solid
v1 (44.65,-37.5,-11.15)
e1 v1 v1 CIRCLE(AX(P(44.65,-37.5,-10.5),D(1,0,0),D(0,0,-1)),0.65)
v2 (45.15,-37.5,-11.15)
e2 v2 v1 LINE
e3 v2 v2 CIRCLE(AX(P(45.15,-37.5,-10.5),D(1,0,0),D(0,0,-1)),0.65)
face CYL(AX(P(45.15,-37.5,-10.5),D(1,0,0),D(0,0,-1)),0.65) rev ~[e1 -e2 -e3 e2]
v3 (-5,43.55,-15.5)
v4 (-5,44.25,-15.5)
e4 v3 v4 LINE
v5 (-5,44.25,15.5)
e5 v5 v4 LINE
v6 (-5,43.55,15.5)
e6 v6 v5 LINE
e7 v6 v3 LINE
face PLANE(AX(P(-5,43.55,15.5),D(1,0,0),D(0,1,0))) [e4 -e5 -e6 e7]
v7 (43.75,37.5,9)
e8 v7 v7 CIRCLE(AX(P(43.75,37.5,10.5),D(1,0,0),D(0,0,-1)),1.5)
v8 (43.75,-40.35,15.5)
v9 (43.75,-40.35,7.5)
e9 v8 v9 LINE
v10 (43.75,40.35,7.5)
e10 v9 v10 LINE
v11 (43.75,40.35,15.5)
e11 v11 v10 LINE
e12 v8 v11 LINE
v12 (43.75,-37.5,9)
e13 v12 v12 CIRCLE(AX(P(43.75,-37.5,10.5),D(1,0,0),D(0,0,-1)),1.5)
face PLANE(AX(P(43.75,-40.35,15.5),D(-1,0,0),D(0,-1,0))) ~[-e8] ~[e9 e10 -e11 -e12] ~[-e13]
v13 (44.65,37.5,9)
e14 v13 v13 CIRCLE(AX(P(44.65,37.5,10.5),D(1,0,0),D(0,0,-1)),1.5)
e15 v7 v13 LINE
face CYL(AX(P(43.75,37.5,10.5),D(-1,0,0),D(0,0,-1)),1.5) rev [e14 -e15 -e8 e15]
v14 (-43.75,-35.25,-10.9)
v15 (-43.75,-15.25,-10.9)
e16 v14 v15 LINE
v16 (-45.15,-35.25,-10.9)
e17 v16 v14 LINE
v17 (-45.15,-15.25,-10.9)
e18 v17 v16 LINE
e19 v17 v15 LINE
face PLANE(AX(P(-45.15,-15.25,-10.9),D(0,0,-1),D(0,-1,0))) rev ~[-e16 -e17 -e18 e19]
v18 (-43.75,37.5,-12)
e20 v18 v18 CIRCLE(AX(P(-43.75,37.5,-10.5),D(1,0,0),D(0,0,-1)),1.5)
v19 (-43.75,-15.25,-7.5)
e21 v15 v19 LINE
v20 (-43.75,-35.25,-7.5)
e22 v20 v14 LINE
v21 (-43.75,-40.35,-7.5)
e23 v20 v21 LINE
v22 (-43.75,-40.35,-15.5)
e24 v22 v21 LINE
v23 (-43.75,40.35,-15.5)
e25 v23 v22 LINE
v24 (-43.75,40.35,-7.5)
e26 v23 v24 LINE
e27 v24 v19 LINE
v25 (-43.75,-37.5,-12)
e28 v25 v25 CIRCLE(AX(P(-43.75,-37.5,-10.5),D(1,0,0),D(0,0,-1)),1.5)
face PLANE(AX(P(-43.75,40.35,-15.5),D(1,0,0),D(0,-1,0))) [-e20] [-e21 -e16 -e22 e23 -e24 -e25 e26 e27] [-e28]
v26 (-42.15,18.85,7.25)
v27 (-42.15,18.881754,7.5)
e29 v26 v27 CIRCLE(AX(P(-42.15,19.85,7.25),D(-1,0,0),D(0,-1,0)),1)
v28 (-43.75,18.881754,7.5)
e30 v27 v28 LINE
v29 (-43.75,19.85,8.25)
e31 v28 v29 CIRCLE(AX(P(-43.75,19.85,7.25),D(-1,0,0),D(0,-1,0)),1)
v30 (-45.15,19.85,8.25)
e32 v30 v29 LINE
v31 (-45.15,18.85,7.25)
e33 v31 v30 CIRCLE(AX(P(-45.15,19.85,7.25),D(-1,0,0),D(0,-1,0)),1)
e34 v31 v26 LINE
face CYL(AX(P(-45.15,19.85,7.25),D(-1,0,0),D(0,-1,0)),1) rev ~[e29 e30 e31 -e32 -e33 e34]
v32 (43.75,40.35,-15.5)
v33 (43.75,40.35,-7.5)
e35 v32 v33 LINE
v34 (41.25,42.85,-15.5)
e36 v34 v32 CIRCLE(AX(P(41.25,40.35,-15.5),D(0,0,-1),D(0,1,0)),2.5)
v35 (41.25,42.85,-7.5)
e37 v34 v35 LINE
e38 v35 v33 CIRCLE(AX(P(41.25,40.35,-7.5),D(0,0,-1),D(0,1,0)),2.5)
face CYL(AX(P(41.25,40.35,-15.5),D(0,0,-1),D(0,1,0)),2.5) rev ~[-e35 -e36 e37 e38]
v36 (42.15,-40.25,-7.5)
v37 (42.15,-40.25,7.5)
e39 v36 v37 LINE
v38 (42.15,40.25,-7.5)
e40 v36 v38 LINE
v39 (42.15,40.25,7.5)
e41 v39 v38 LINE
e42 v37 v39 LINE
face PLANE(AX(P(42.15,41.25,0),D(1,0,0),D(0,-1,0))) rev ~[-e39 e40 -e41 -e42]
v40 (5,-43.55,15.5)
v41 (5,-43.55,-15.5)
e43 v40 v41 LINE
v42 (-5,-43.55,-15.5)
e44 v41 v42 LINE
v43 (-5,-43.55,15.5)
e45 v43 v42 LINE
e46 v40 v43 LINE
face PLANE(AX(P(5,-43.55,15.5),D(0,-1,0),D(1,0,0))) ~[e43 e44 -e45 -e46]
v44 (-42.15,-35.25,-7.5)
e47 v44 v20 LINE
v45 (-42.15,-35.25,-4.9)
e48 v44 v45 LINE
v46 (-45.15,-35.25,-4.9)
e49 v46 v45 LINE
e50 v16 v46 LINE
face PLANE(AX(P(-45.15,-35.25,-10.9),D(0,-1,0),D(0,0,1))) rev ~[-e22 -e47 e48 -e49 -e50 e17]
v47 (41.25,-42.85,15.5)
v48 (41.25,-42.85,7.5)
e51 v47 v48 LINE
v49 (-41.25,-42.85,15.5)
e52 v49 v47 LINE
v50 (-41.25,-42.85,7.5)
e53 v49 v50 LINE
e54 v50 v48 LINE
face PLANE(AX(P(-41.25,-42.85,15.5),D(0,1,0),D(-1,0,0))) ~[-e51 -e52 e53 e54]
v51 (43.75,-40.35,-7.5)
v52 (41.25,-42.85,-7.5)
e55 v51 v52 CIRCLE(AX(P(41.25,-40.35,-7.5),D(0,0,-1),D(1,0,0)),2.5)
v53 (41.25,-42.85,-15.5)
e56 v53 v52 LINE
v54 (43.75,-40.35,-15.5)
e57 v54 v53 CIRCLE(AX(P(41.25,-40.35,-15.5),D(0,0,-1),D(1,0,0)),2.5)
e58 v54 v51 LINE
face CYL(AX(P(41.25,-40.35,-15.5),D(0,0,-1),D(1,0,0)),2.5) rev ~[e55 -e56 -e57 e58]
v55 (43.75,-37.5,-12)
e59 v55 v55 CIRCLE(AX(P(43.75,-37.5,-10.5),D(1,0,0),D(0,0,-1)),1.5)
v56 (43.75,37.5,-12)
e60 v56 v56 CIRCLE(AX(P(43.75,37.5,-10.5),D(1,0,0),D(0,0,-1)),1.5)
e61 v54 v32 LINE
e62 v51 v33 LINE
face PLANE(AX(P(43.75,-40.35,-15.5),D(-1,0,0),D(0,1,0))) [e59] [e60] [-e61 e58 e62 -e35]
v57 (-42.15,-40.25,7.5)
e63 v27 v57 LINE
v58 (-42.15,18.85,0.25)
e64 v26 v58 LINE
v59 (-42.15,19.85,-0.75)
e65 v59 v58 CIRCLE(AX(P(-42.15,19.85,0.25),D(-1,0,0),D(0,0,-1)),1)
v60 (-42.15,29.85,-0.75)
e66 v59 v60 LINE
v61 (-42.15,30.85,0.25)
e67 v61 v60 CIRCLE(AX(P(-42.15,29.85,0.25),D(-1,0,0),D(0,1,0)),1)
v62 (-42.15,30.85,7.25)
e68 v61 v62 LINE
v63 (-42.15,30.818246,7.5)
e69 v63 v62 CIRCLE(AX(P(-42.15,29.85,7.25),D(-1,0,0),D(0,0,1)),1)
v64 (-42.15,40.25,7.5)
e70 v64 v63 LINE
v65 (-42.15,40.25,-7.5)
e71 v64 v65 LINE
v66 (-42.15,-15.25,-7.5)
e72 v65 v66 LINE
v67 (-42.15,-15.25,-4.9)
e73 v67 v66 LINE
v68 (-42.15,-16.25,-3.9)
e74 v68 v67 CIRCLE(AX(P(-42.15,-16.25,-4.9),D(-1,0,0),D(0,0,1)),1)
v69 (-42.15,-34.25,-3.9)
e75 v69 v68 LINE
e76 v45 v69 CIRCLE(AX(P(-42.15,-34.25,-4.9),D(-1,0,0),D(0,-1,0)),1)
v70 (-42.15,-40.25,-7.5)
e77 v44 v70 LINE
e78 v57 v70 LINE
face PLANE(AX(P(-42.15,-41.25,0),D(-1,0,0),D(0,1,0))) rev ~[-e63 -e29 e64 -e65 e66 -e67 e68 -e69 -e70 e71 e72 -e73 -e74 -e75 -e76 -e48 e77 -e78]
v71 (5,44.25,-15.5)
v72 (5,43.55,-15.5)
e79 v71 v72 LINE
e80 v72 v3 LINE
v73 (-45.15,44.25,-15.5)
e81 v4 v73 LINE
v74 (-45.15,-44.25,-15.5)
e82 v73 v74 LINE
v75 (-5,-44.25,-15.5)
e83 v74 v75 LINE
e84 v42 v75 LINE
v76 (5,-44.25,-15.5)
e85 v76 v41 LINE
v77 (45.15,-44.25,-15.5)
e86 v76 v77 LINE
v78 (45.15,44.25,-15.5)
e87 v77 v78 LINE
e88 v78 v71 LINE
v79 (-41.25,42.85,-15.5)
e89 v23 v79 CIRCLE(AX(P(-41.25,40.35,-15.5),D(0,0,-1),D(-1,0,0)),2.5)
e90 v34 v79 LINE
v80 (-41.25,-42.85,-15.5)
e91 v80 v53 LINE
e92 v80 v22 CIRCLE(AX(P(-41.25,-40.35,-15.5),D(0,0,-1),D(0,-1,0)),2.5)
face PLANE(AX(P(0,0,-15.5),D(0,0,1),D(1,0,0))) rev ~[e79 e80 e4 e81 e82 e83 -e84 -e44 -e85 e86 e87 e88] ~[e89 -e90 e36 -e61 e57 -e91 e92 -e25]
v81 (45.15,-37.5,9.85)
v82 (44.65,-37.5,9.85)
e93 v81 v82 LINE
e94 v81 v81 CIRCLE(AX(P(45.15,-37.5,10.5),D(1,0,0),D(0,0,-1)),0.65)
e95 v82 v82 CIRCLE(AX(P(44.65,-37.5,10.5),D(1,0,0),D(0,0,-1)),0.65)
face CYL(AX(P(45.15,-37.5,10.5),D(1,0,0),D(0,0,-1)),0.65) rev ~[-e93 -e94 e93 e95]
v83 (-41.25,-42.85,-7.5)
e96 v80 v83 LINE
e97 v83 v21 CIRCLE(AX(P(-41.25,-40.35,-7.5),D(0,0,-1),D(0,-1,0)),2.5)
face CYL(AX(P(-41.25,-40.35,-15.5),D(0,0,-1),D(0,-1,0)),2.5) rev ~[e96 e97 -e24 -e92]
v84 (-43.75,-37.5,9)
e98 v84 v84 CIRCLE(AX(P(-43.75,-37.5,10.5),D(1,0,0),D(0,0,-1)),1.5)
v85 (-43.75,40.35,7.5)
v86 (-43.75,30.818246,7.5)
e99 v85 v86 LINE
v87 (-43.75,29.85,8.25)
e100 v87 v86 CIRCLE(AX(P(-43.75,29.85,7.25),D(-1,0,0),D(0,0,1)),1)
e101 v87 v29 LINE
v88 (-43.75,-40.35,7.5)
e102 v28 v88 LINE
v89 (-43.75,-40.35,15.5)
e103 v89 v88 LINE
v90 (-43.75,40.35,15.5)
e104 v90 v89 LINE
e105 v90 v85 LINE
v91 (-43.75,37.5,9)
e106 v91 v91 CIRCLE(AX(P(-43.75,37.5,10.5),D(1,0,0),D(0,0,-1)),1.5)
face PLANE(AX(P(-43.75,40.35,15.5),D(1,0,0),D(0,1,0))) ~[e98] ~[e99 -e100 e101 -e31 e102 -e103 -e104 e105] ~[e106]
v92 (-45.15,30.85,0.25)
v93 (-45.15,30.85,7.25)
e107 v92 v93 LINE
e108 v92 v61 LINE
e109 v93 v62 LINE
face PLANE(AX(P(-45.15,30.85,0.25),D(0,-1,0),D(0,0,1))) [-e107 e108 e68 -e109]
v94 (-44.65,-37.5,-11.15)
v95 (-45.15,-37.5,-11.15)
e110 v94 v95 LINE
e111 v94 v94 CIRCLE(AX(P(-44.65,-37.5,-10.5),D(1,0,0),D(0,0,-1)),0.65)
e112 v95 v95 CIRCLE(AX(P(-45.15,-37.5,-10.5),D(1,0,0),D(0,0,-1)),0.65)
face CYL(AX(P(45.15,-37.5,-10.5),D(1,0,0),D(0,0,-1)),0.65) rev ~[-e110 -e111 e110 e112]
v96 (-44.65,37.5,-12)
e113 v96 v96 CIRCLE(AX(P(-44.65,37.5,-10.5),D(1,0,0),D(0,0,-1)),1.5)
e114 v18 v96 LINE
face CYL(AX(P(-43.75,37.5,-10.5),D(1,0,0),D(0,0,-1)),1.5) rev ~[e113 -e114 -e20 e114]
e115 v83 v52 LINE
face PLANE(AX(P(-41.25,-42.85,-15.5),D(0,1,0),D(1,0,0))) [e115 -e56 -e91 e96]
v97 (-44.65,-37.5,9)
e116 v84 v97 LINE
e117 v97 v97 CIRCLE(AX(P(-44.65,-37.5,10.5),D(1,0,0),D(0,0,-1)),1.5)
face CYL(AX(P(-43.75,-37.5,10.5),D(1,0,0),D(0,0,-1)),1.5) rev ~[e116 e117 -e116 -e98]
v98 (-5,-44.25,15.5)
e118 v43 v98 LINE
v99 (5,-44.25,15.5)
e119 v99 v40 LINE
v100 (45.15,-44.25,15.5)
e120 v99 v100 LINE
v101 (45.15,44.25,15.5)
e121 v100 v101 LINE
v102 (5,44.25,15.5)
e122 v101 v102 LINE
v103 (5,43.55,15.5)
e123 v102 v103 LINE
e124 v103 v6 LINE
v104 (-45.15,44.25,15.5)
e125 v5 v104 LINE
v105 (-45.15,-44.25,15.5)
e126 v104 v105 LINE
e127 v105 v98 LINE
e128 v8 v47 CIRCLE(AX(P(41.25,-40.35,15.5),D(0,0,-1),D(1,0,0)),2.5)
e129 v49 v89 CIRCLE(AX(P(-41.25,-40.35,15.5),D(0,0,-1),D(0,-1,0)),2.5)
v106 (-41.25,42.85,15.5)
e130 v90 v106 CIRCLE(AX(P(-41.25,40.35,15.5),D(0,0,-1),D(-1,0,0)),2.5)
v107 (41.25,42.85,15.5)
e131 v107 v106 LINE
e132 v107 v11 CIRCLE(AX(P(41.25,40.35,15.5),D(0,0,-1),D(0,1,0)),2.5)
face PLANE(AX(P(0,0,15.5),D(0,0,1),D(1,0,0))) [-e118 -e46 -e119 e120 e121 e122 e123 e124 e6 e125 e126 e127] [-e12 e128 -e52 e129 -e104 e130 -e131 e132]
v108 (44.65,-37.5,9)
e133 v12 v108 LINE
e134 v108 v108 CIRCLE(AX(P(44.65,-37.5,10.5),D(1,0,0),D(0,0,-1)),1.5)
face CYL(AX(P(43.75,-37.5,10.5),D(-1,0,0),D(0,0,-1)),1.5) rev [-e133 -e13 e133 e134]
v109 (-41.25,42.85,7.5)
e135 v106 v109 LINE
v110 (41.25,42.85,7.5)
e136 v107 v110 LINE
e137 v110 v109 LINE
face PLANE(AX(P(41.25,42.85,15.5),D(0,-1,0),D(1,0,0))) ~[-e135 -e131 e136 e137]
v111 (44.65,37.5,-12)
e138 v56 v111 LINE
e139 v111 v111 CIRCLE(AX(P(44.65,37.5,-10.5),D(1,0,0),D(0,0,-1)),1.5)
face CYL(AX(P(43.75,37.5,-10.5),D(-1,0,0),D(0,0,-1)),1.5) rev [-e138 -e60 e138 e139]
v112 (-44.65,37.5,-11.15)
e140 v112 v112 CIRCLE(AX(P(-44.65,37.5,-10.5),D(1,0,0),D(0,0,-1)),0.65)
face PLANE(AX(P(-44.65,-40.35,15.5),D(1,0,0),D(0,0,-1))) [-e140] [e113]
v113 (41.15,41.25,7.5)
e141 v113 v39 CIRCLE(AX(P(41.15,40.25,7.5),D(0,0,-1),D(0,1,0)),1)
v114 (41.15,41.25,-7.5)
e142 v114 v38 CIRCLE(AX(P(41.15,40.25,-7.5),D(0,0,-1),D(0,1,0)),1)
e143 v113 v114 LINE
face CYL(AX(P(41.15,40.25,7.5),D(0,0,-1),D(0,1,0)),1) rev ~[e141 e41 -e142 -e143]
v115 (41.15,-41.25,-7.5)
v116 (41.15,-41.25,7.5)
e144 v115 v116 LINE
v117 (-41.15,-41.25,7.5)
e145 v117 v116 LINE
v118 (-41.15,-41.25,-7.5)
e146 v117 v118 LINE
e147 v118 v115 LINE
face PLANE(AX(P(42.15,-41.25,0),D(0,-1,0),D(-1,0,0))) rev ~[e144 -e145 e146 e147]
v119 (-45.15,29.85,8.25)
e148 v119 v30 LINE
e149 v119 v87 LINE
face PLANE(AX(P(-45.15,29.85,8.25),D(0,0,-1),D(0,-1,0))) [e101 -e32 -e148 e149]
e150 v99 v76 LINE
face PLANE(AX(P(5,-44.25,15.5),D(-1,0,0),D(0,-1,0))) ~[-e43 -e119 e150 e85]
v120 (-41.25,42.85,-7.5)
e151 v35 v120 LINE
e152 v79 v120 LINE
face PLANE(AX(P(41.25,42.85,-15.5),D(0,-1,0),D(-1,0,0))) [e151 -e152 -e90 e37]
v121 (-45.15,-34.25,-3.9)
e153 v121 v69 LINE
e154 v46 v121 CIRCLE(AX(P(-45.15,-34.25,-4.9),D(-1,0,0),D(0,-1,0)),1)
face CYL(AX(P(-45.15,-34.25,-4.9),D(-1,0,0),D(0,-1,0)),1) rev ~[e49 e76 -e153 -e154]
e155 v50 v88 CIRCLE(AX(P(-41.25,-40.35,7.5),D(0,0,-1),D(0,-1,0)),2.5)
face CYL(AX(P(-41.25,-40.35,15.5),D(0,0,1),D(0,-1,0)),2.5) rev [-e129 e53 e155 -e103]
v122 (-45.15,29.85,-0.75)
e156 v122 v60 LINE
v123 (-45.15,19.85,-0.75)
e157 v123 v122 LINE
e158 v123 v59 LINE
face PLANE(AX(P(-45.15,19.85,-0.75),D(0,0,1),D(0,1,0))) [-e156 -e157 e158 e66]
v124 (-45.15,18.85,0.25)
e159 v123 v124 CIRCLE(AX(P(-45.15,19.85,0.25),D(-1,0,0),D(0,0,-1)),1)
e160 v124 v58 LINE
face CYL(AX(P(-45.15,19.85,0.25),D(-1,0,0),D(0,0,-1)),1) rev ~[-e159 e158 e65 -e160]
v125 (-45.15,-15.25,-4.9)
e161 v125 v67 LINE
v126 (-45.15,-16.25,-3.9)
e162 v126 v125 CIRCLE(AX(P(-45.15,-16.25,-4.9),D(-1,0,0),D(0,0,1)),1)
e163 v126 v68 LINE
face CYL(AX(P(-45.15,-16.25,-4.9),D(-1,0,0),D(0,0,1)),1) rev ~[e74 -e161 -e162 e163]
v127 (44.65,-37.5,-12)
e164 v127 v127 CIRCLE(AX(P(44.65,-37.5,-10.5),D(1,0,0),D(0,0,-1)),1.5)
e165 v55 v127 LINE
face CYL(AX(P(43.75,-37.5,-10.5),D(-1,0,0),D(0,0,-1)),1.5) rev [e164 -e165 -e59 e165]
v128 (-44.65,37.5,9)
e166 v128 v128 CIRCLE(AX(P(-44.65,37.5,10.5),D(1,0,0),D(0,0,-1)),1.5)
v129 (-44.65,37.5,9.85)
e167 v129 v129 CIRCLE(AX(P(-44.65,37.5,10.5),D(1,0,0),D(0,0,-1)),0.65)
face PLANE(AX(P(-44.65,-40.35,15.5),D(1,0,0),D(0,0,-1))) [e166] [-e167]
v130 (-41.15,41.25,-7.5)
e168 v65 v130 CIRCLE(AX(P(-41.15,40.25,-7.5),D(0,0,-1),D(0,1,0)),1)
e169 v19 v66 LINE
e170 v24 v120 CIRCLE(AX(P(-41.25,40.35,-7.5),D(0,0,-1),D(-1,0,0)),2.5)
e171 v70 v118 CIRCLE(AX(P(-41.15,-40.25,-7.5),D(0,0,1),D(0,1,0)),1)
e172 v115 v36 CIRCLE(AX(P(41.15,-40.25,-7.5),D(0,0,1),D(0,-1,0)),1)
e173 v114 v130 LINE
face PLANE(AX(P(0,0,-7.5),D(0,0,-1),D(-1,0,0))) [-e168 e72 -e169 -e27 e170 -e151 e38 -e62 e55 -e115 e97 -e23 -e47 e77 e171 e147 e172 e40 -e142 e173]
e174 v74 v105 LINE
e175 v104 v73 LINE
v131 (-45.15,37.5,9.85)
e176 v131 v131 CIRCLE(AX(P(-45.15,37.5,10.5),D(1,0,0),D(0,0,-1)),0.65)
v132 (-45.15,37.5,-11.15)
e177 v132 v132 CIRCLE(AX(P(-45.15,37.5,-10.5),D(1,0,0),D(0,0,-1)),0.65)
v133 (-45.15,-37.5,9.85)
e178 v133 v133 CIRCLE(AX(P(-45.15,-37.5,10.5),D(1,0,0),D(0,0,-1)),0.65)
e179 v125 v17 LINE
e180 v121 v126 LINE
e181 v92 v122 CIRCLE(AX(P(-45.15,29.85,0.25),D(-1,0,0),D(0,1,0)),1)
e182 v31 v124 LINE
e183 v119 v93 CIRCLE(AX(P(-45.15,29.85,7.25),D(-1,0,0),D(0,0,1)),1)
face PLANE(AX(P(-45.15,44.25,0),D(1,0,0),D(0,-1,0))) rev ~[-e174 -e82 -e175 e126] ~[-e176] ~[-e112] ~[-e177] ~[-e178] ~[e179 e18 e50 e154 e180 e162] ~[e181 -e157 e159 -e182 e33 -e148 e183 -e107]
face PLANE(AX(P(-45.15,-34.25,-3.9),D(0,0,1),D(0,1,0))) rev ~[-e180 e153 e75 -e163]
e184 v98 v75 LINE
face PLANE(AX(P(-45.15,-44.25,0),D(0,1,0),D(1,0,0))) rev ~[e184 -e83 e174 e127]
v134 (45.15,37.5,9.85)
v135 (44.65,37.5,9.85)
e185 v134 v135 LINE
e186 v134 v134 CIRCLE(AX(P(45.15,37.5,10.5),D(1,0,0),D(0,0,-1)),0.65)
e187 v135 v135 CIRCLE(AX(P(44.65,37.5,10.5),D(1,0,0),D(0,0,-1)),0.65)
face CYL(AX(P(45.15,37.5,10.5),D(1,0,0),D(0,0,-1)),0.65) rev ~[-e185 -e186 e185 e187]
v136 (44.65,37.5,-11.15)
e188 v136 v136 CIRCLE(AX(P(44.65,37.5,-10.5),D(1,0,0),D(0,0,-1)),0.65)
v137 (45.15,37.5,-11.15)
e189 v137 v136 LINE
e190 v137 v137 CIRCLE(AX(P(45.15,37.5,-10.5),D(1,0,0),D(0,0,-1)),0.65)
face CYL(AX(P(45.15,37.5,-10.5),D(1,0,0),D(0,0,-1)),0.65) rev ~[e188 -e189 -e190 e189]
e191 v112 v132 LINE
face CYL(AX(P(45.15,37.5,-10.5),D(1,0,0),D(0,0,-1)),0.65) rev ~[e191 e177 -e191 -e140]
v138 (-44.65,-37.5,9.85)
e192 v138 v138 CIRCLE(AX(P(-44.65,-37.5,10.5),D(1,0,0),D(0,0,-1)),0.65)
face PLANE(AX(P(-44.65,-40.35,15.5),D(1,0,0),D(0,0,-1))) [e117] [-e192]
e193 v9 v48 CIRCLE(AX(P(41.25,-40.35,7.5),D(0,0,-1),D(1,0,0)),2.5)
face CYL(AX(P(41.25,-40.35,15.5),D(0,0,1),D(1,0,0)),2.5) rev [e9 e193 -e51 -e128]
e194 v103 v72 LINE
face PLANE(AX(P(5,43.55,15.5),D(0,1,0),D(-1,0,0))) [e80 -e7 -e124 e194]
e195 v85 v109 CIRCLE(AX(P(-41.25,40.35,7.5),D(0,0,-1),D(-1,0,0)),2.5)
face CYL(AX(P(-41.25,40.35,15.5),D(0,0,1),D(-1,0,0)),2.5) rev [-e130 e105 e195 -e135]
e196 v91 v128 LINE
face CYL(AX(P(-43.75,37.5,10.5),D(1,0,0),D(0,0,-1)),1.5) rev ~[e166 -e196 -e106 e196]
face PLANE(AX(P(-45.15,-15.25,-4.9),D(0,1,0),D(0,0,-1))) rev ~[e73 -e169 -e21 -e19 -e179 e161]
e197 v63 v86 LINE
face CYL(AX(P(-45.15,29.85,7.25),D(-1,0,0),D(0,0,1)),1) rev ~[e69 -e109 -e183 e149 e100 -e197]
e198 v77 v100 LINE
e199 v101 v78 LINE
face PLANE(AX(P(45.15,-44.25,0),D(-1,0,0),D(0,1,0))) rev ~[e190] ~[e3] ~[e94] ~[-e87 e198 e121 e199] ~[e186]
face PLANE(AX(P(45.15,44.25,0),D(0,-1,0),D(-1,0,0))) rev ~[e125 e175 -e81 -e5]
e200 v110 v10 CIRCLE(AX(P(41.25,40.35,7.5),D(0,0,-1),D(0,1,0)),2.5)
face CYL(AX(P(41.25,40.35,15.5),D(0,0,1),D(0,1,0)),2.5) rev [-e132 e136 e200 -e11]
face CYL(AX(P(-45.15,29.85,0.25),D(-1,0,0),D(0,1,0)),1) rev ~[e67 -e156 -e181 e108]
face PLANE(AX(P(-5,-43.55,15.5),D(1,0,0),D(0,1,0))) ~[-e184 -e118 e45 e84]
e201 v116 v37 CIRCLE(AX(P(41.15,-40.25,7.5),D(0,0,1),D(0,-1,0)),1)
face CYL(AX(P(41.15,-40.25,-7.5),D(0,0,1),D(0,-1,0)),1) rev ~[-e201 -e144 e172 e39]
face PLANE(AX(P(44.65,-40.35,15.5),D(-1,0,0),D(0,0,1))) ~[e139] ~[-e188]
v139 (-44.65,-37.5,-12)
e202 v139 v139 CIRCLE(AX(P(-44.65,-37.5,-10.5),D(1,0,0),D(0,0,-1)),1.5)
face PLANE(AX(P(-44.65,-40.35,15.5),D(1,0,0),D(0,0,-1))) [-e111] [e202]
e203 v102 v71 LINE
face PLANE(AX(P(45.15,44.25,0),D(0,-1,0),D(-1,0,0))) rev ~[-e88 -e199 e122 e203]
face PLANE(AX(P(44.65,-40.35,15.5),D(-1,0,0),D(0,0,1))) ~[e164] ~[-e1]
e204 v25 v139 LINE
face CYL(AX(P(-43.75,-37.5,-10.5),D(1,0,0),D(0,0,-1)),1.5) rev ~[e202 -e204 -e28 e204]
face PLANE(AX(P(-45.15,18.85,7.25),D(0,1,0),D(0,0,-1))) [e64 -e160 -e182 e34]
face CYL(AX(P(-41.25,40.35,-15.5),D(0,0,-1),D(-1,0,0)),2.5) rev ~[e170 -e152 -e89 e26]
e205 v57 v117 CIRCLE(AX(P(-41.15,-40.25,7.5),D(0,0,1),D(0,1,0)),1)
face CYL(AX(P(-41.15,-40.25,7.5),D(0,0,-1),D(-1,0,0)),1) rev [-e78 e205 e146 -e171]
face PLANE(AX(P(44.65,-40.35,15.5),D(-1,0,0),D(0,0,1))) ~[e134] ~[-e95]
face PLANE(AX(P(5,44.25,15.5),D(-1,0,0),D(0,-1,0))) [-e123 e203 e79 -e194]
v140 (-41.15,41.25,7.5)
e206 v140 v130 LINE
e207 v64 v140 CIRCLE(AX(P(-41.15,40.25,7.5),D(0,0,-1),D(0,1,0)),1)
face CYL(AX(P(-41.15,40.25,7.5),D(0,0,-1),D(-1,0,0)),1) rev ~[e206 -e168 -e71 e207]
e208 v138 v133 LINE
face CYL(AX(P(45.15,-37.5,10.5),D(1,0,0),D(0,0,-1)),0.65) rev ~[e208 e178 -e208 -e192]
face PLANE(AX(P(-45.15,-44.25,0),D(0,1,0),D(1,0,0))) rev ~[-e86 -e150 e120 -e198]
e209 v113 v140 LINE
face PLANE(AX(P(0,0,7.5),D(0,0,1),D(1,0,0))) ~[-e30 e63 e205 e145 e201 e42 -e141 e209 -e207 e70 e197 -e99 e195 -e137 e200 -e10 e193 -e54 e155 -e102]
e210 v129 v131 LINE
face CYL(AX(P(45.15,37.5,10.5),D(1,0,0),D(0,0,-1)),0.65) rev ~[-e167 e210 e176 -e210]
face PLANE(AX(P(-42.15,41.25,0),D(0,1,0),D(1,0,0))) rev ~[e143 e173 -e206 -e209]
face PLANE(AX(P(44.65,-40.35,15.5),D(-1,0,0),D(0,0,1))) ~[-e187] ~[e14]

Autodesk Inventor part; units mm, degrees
ref_plane "YZ Plane" through (0, 0, 0) normal (1, 0, 0) x (0, 1, 0)
ref_plane "XZ Plane" through (0, 0, 0) normal (0, 1, 0) x (-1, 0, 0)
ref_plane "XY Plane" through (0, 0, 0) normal (0, 0, 1) x (1, 0, 0)
sketch "Sketch1" plane through (0, 0, 0) normal (0, 0, 1) x (1, 0, 0)
  line L0 (-45.15, -44.25) -> (45.15, -44.25)
  line L1 (45.15, -44.25) -> (45.15, 44.25)
  line L2 (45.15, 44.25) -> (-45.15, 44.25)
  line L3 (-45.15, 44.25) -> (-45.15, -44.25)
  line L4 (-45.15, -44.25) -> (45.15, 44.25) construction
  line L5 (45.15, -44.25) -> (-45.15, 44.25) construction
  line L6 (42.15, -41.25) -> (-42.15, -41.25)
  line L7 (-42.15, -41.25) -> (-42.15, 41.25)
  line L8 (-42.15, 41.25) -> (42.15, 41.25)
  line L9 (42.15, 41.25) -> (42.15, -41.25)
  line L10 (42.15, -41.25) -> (-42.15, 41.25) construction
  line L11 (-42.15, -41.25) -> (42.15, 41.25) construction
  point P0 (0, 0)
  dimension "d0" = 90.3
  dimension "d1" = 88.5
  dimension "d2" = 84.3
  dimension "d3" = 82.5
extrude "Extrusion1" add sketch "Sketch1" along normal mid plane 31
sketch "Sketch2" plane through (0, 0, -15.5) normal (0, 0, -1) x (-1, 0, 0)
  line L0 (42.15, 41.25) -> (42.15, -41.25) projected
  line L1 (42.15, -41.25) -> (-42.15, -41.25) projected
  line L2 (-42.15, -41.25) -> (-42.15, 41.25) projected
  line L3 (-42.15, 41.25) -> (42.15, 41.25) projected
  line L4 (41.25, -42.85) -> (-41.25, -42.85)
  line L5 (-43.75, -40.35) -> (-43.75, 40.35)
  line L6 (-41.25, 42.85) -> (41.25, 42.85)
  line L7 (43.75, 40.35) -> (43.75, -40.35)
  line L8 (43.75, -42.85) -> (-43.75, 42.85) construction
  line L9 (-43.75, -42.85) -> (43.75, 42.85) construction
  arc A0 (-41.25, 42.85) -> (-43.75, 40.35) centre (-41.25, 40.35) ccw
  arc A1 (-43.75, -40.35) -> (-41.25, -42.85) centre (-41.25, -40.35) ccw
  arc A2 (41.25, -42.85) -> (43.75, -40.35) centre (41.25, -40.35) ccw
  arc A3 (43.75, 40.35) -> (41.25, 42.85) centre (41.25, 40.35) ccw
  point P0 (0, 0)
  dimension "d8" = 2.5
  dimension "d40" = 1.6
  dimension "d41" = 1.6
extrude "Extrusion2" cut sketch "Sketch2" against normal blind 8
mirror "Mirror1" about plane through (0, 0, 0) normal (0, 0, 1) of "Extrusion2"
sketch "Sketch3" plane through (-45.15, -44.25, 15.5) normal (-1, 0, 0) x (0, -1, 0)
  line L0 (0, 0) -> (0, -31) projected
  line L1 (-9, -26.4) -> (-9, -20.4)
  line L2 (-10, -19.4) -> (-28, -19.4)
  line L3 (-29, -20.4) -> (-29, -26.4)
  arc A0 (-28, -19.4) -> (-29, -20.4) centre (-28, -20.4) ccw
  arc A1 (-9, -20.4) -> (-10, -19.4) centre (-10, -20.4) ccw
  line L4 (-29, -26.4) -> (-9, -26.4)
  line L5 (0, -31) -> (-88.5, -31) projected
  point P0 (-44.25, -15.5)
  dimension "d11" = 1
  dimension "d12" = 20
  dimension "d44" = 7
  dimension "d45" = 4.6
  dimension "d47" = 29
extrude "Elect" cut sketch "Sketch3" against normal blind 5
sketch "Sketch5" plane through (-45.15, -44.25, 15.5) normal (-1, 0, 0) x (0, 0, 1)
  line L0 (-31, 88.5) -> (0, 88.5) projected
  line L1 (-31, 0) -> (-31, 88.5) projected
  line L2 (-13.5, 72.7) -> (-10, 72.7)
  line L3 (-10, 72.7) -> (-10, 65.5)
  line L4 (-10, 65.5) -> (-13.5, 65.5)
  line L5 (-13.5, 65.5) -> (-13.5, 72.7)
  point P0 (-15.5, 44.25)
  point P1 (-11.75, 72.7)
  point P2 (-13.5, 69.1)
  dimension "d23" = 3.5
  dimension "d24" = 7.2
  dimension "d42" = 21
  dimension "d43" = 23
extrude "Mini-usb" cut sketch "Sketch5" against normal blind 10
sketch "Sketch7" plane through (-45.15, -44.25, 15.5) normal (-1, 0, 0) x (0, 0, 1)
  line L0 (-13.5, 65.5) -> (-13.5, 72.7) projected
  line L1 (-10, 72.7) -> (-10, 65.5) projected
  line L2 (-10, 65.5) -> (-13.5, 65.5) projected
  line L3 (-10, 72.7) -> (-13.5, 72.7) projected
  line L4 (-10, 72.7) -> (-13.5, 65.5) construction
  line L5 (-13.5, 65.5) -> (-10, 65.5) projected
  line L6 (-10, 65.5) -> (-13.5, 72.7) construction
  line L7 (-15.25, 75.1) -> (-8.25, 75.1)
  line L8 (-7.25, 74.1) -> (-7.25, 64.1)
  line L9 (-8.25, 63.1) -> (-15.25, 63.1)
  line L10 (-16.25, 64.1) -> (-16.25, 74.1)
  line L11 (-16.25, 75.1) -> (-7.25, 63.1) construction
  line L12 (-7.25, 75.1) -> (-16.25, 63.1) construction
  arc A0 (-7.25, 74.1) -> (-8.25, 75.1) centre (-8.25, 74.1) ccw
  arc A1 (-15.25, 75.1) -> (-16.25, 74.1) centre (-15.25, 74.1) ccw
  arc A2 (-16.25, 64.1) -> (-15.25, 63.1) centre (-15.25, 64.1) ccw
  arc A3 (-8.25, 63.1) -> (-7.25, 64.1) centre (-8.25, 64.1) ccw
  point P0 (-15.5, 44.25)
  point P1 (-11.75, 69.1)
  dimension "d35" = 12
  dimension "d36" = 9
  dimension "d37" = 1
extrude "USB" cut sketch "Sketch7" against normal blind 3
sketch "Sketch6" plane through (0, 0, 15.5) normal (0, 0, 1) x (1, 0, 0)
  line L0 (45.15, 44.25) -> (-45.15, 44.25) projected
  line L1 (-5, 44.25) -> (5, 44.25)
  line L2 (5, 44.25) -> (5, 43.55)
  line L3 (5, 43.55) -> (-5, 43.55)
  line L4 (-5, 43.55) -> (-5, 44.25)
  point P0 (0, 0)
  point P1 (0, 43.55)
  dimension "d31" = 10
  dimension "d32" = 0.7
extrude "Decoratie" cut sketch "Sketch6" against normal through all
mirror "Mirror2" about plane through (0, 0, 0) normal (0, 1, 0) of "Decoratie"
fillet "Fillet1" radius 1 4 edges at (42.15, 41.25, 0) (-42.15, 41.25, 0) (-42.15, -41.25, 0) (42.15, -41.25, 0)
sketch "Sketch8" plane through (45.15, -44.25, 15.5) normal (1, 0, 0) x (0, 0, -1)
  circle A0 centre (5, 6.75) radius 0.65
  circle A1 centre (5, 81.75) radius 0.65
  line L0 (0, 0) -> (0, 88.5) projected
  line L1 (5, 6.75) -> (5, 81.75) construction
  circle A2 centre (26, 6.75) radius 0.65
  circle A3 centre (26, 81.75) radius 0.65
  line L2 (31, 88.5) -> (31, 0) projected
  point P0 (15.5, 44.25)
  point P1 (5, 44.25)
  dimension "d49" = 1.3
  dimension "d51" = 75
  dimension "d52" = 5
  dimension "d55" = 5
extrude "Extrusion8" cut sketch "Sketch8" against normal through all
sketch "Sketch9" plane through (-43.75, -40.35, 15.5) normal (1, 0, 0) x (0, 0, -1)
  circle A0 centre (5, 2.85) radius 0.65 projected
  circle A1 centre (26, 2.85) radius 0.65 projected
  circle A2 centre (26, 77.85) radius 0.65 projected
  circle A3 centre (5, 77.85) radius 0.65 projected
  circle A4 centre (5, 77.85) radius 1.5
  circle A5 centre (5, 2.85) radius 1.5
  circle A6 centre (26, 2.85) radius 1.5
  circle A7 centre (26, 77.85) radius 1.5
  point P0 (15.5, 40.35)
  dimension "d58" = 3
  dimension "d59" = 3
  dimension "d60" = 3
  dimension "d61" = 3
extrude "Extrusion9" cut sketch "Sketch9" against normal blind 0.9
mirror "Mirror3" about plane through (0, 0, 0) normal (1, 0, 0) of "Extrusion9"
properties part number "AP-02" material "Q235"
